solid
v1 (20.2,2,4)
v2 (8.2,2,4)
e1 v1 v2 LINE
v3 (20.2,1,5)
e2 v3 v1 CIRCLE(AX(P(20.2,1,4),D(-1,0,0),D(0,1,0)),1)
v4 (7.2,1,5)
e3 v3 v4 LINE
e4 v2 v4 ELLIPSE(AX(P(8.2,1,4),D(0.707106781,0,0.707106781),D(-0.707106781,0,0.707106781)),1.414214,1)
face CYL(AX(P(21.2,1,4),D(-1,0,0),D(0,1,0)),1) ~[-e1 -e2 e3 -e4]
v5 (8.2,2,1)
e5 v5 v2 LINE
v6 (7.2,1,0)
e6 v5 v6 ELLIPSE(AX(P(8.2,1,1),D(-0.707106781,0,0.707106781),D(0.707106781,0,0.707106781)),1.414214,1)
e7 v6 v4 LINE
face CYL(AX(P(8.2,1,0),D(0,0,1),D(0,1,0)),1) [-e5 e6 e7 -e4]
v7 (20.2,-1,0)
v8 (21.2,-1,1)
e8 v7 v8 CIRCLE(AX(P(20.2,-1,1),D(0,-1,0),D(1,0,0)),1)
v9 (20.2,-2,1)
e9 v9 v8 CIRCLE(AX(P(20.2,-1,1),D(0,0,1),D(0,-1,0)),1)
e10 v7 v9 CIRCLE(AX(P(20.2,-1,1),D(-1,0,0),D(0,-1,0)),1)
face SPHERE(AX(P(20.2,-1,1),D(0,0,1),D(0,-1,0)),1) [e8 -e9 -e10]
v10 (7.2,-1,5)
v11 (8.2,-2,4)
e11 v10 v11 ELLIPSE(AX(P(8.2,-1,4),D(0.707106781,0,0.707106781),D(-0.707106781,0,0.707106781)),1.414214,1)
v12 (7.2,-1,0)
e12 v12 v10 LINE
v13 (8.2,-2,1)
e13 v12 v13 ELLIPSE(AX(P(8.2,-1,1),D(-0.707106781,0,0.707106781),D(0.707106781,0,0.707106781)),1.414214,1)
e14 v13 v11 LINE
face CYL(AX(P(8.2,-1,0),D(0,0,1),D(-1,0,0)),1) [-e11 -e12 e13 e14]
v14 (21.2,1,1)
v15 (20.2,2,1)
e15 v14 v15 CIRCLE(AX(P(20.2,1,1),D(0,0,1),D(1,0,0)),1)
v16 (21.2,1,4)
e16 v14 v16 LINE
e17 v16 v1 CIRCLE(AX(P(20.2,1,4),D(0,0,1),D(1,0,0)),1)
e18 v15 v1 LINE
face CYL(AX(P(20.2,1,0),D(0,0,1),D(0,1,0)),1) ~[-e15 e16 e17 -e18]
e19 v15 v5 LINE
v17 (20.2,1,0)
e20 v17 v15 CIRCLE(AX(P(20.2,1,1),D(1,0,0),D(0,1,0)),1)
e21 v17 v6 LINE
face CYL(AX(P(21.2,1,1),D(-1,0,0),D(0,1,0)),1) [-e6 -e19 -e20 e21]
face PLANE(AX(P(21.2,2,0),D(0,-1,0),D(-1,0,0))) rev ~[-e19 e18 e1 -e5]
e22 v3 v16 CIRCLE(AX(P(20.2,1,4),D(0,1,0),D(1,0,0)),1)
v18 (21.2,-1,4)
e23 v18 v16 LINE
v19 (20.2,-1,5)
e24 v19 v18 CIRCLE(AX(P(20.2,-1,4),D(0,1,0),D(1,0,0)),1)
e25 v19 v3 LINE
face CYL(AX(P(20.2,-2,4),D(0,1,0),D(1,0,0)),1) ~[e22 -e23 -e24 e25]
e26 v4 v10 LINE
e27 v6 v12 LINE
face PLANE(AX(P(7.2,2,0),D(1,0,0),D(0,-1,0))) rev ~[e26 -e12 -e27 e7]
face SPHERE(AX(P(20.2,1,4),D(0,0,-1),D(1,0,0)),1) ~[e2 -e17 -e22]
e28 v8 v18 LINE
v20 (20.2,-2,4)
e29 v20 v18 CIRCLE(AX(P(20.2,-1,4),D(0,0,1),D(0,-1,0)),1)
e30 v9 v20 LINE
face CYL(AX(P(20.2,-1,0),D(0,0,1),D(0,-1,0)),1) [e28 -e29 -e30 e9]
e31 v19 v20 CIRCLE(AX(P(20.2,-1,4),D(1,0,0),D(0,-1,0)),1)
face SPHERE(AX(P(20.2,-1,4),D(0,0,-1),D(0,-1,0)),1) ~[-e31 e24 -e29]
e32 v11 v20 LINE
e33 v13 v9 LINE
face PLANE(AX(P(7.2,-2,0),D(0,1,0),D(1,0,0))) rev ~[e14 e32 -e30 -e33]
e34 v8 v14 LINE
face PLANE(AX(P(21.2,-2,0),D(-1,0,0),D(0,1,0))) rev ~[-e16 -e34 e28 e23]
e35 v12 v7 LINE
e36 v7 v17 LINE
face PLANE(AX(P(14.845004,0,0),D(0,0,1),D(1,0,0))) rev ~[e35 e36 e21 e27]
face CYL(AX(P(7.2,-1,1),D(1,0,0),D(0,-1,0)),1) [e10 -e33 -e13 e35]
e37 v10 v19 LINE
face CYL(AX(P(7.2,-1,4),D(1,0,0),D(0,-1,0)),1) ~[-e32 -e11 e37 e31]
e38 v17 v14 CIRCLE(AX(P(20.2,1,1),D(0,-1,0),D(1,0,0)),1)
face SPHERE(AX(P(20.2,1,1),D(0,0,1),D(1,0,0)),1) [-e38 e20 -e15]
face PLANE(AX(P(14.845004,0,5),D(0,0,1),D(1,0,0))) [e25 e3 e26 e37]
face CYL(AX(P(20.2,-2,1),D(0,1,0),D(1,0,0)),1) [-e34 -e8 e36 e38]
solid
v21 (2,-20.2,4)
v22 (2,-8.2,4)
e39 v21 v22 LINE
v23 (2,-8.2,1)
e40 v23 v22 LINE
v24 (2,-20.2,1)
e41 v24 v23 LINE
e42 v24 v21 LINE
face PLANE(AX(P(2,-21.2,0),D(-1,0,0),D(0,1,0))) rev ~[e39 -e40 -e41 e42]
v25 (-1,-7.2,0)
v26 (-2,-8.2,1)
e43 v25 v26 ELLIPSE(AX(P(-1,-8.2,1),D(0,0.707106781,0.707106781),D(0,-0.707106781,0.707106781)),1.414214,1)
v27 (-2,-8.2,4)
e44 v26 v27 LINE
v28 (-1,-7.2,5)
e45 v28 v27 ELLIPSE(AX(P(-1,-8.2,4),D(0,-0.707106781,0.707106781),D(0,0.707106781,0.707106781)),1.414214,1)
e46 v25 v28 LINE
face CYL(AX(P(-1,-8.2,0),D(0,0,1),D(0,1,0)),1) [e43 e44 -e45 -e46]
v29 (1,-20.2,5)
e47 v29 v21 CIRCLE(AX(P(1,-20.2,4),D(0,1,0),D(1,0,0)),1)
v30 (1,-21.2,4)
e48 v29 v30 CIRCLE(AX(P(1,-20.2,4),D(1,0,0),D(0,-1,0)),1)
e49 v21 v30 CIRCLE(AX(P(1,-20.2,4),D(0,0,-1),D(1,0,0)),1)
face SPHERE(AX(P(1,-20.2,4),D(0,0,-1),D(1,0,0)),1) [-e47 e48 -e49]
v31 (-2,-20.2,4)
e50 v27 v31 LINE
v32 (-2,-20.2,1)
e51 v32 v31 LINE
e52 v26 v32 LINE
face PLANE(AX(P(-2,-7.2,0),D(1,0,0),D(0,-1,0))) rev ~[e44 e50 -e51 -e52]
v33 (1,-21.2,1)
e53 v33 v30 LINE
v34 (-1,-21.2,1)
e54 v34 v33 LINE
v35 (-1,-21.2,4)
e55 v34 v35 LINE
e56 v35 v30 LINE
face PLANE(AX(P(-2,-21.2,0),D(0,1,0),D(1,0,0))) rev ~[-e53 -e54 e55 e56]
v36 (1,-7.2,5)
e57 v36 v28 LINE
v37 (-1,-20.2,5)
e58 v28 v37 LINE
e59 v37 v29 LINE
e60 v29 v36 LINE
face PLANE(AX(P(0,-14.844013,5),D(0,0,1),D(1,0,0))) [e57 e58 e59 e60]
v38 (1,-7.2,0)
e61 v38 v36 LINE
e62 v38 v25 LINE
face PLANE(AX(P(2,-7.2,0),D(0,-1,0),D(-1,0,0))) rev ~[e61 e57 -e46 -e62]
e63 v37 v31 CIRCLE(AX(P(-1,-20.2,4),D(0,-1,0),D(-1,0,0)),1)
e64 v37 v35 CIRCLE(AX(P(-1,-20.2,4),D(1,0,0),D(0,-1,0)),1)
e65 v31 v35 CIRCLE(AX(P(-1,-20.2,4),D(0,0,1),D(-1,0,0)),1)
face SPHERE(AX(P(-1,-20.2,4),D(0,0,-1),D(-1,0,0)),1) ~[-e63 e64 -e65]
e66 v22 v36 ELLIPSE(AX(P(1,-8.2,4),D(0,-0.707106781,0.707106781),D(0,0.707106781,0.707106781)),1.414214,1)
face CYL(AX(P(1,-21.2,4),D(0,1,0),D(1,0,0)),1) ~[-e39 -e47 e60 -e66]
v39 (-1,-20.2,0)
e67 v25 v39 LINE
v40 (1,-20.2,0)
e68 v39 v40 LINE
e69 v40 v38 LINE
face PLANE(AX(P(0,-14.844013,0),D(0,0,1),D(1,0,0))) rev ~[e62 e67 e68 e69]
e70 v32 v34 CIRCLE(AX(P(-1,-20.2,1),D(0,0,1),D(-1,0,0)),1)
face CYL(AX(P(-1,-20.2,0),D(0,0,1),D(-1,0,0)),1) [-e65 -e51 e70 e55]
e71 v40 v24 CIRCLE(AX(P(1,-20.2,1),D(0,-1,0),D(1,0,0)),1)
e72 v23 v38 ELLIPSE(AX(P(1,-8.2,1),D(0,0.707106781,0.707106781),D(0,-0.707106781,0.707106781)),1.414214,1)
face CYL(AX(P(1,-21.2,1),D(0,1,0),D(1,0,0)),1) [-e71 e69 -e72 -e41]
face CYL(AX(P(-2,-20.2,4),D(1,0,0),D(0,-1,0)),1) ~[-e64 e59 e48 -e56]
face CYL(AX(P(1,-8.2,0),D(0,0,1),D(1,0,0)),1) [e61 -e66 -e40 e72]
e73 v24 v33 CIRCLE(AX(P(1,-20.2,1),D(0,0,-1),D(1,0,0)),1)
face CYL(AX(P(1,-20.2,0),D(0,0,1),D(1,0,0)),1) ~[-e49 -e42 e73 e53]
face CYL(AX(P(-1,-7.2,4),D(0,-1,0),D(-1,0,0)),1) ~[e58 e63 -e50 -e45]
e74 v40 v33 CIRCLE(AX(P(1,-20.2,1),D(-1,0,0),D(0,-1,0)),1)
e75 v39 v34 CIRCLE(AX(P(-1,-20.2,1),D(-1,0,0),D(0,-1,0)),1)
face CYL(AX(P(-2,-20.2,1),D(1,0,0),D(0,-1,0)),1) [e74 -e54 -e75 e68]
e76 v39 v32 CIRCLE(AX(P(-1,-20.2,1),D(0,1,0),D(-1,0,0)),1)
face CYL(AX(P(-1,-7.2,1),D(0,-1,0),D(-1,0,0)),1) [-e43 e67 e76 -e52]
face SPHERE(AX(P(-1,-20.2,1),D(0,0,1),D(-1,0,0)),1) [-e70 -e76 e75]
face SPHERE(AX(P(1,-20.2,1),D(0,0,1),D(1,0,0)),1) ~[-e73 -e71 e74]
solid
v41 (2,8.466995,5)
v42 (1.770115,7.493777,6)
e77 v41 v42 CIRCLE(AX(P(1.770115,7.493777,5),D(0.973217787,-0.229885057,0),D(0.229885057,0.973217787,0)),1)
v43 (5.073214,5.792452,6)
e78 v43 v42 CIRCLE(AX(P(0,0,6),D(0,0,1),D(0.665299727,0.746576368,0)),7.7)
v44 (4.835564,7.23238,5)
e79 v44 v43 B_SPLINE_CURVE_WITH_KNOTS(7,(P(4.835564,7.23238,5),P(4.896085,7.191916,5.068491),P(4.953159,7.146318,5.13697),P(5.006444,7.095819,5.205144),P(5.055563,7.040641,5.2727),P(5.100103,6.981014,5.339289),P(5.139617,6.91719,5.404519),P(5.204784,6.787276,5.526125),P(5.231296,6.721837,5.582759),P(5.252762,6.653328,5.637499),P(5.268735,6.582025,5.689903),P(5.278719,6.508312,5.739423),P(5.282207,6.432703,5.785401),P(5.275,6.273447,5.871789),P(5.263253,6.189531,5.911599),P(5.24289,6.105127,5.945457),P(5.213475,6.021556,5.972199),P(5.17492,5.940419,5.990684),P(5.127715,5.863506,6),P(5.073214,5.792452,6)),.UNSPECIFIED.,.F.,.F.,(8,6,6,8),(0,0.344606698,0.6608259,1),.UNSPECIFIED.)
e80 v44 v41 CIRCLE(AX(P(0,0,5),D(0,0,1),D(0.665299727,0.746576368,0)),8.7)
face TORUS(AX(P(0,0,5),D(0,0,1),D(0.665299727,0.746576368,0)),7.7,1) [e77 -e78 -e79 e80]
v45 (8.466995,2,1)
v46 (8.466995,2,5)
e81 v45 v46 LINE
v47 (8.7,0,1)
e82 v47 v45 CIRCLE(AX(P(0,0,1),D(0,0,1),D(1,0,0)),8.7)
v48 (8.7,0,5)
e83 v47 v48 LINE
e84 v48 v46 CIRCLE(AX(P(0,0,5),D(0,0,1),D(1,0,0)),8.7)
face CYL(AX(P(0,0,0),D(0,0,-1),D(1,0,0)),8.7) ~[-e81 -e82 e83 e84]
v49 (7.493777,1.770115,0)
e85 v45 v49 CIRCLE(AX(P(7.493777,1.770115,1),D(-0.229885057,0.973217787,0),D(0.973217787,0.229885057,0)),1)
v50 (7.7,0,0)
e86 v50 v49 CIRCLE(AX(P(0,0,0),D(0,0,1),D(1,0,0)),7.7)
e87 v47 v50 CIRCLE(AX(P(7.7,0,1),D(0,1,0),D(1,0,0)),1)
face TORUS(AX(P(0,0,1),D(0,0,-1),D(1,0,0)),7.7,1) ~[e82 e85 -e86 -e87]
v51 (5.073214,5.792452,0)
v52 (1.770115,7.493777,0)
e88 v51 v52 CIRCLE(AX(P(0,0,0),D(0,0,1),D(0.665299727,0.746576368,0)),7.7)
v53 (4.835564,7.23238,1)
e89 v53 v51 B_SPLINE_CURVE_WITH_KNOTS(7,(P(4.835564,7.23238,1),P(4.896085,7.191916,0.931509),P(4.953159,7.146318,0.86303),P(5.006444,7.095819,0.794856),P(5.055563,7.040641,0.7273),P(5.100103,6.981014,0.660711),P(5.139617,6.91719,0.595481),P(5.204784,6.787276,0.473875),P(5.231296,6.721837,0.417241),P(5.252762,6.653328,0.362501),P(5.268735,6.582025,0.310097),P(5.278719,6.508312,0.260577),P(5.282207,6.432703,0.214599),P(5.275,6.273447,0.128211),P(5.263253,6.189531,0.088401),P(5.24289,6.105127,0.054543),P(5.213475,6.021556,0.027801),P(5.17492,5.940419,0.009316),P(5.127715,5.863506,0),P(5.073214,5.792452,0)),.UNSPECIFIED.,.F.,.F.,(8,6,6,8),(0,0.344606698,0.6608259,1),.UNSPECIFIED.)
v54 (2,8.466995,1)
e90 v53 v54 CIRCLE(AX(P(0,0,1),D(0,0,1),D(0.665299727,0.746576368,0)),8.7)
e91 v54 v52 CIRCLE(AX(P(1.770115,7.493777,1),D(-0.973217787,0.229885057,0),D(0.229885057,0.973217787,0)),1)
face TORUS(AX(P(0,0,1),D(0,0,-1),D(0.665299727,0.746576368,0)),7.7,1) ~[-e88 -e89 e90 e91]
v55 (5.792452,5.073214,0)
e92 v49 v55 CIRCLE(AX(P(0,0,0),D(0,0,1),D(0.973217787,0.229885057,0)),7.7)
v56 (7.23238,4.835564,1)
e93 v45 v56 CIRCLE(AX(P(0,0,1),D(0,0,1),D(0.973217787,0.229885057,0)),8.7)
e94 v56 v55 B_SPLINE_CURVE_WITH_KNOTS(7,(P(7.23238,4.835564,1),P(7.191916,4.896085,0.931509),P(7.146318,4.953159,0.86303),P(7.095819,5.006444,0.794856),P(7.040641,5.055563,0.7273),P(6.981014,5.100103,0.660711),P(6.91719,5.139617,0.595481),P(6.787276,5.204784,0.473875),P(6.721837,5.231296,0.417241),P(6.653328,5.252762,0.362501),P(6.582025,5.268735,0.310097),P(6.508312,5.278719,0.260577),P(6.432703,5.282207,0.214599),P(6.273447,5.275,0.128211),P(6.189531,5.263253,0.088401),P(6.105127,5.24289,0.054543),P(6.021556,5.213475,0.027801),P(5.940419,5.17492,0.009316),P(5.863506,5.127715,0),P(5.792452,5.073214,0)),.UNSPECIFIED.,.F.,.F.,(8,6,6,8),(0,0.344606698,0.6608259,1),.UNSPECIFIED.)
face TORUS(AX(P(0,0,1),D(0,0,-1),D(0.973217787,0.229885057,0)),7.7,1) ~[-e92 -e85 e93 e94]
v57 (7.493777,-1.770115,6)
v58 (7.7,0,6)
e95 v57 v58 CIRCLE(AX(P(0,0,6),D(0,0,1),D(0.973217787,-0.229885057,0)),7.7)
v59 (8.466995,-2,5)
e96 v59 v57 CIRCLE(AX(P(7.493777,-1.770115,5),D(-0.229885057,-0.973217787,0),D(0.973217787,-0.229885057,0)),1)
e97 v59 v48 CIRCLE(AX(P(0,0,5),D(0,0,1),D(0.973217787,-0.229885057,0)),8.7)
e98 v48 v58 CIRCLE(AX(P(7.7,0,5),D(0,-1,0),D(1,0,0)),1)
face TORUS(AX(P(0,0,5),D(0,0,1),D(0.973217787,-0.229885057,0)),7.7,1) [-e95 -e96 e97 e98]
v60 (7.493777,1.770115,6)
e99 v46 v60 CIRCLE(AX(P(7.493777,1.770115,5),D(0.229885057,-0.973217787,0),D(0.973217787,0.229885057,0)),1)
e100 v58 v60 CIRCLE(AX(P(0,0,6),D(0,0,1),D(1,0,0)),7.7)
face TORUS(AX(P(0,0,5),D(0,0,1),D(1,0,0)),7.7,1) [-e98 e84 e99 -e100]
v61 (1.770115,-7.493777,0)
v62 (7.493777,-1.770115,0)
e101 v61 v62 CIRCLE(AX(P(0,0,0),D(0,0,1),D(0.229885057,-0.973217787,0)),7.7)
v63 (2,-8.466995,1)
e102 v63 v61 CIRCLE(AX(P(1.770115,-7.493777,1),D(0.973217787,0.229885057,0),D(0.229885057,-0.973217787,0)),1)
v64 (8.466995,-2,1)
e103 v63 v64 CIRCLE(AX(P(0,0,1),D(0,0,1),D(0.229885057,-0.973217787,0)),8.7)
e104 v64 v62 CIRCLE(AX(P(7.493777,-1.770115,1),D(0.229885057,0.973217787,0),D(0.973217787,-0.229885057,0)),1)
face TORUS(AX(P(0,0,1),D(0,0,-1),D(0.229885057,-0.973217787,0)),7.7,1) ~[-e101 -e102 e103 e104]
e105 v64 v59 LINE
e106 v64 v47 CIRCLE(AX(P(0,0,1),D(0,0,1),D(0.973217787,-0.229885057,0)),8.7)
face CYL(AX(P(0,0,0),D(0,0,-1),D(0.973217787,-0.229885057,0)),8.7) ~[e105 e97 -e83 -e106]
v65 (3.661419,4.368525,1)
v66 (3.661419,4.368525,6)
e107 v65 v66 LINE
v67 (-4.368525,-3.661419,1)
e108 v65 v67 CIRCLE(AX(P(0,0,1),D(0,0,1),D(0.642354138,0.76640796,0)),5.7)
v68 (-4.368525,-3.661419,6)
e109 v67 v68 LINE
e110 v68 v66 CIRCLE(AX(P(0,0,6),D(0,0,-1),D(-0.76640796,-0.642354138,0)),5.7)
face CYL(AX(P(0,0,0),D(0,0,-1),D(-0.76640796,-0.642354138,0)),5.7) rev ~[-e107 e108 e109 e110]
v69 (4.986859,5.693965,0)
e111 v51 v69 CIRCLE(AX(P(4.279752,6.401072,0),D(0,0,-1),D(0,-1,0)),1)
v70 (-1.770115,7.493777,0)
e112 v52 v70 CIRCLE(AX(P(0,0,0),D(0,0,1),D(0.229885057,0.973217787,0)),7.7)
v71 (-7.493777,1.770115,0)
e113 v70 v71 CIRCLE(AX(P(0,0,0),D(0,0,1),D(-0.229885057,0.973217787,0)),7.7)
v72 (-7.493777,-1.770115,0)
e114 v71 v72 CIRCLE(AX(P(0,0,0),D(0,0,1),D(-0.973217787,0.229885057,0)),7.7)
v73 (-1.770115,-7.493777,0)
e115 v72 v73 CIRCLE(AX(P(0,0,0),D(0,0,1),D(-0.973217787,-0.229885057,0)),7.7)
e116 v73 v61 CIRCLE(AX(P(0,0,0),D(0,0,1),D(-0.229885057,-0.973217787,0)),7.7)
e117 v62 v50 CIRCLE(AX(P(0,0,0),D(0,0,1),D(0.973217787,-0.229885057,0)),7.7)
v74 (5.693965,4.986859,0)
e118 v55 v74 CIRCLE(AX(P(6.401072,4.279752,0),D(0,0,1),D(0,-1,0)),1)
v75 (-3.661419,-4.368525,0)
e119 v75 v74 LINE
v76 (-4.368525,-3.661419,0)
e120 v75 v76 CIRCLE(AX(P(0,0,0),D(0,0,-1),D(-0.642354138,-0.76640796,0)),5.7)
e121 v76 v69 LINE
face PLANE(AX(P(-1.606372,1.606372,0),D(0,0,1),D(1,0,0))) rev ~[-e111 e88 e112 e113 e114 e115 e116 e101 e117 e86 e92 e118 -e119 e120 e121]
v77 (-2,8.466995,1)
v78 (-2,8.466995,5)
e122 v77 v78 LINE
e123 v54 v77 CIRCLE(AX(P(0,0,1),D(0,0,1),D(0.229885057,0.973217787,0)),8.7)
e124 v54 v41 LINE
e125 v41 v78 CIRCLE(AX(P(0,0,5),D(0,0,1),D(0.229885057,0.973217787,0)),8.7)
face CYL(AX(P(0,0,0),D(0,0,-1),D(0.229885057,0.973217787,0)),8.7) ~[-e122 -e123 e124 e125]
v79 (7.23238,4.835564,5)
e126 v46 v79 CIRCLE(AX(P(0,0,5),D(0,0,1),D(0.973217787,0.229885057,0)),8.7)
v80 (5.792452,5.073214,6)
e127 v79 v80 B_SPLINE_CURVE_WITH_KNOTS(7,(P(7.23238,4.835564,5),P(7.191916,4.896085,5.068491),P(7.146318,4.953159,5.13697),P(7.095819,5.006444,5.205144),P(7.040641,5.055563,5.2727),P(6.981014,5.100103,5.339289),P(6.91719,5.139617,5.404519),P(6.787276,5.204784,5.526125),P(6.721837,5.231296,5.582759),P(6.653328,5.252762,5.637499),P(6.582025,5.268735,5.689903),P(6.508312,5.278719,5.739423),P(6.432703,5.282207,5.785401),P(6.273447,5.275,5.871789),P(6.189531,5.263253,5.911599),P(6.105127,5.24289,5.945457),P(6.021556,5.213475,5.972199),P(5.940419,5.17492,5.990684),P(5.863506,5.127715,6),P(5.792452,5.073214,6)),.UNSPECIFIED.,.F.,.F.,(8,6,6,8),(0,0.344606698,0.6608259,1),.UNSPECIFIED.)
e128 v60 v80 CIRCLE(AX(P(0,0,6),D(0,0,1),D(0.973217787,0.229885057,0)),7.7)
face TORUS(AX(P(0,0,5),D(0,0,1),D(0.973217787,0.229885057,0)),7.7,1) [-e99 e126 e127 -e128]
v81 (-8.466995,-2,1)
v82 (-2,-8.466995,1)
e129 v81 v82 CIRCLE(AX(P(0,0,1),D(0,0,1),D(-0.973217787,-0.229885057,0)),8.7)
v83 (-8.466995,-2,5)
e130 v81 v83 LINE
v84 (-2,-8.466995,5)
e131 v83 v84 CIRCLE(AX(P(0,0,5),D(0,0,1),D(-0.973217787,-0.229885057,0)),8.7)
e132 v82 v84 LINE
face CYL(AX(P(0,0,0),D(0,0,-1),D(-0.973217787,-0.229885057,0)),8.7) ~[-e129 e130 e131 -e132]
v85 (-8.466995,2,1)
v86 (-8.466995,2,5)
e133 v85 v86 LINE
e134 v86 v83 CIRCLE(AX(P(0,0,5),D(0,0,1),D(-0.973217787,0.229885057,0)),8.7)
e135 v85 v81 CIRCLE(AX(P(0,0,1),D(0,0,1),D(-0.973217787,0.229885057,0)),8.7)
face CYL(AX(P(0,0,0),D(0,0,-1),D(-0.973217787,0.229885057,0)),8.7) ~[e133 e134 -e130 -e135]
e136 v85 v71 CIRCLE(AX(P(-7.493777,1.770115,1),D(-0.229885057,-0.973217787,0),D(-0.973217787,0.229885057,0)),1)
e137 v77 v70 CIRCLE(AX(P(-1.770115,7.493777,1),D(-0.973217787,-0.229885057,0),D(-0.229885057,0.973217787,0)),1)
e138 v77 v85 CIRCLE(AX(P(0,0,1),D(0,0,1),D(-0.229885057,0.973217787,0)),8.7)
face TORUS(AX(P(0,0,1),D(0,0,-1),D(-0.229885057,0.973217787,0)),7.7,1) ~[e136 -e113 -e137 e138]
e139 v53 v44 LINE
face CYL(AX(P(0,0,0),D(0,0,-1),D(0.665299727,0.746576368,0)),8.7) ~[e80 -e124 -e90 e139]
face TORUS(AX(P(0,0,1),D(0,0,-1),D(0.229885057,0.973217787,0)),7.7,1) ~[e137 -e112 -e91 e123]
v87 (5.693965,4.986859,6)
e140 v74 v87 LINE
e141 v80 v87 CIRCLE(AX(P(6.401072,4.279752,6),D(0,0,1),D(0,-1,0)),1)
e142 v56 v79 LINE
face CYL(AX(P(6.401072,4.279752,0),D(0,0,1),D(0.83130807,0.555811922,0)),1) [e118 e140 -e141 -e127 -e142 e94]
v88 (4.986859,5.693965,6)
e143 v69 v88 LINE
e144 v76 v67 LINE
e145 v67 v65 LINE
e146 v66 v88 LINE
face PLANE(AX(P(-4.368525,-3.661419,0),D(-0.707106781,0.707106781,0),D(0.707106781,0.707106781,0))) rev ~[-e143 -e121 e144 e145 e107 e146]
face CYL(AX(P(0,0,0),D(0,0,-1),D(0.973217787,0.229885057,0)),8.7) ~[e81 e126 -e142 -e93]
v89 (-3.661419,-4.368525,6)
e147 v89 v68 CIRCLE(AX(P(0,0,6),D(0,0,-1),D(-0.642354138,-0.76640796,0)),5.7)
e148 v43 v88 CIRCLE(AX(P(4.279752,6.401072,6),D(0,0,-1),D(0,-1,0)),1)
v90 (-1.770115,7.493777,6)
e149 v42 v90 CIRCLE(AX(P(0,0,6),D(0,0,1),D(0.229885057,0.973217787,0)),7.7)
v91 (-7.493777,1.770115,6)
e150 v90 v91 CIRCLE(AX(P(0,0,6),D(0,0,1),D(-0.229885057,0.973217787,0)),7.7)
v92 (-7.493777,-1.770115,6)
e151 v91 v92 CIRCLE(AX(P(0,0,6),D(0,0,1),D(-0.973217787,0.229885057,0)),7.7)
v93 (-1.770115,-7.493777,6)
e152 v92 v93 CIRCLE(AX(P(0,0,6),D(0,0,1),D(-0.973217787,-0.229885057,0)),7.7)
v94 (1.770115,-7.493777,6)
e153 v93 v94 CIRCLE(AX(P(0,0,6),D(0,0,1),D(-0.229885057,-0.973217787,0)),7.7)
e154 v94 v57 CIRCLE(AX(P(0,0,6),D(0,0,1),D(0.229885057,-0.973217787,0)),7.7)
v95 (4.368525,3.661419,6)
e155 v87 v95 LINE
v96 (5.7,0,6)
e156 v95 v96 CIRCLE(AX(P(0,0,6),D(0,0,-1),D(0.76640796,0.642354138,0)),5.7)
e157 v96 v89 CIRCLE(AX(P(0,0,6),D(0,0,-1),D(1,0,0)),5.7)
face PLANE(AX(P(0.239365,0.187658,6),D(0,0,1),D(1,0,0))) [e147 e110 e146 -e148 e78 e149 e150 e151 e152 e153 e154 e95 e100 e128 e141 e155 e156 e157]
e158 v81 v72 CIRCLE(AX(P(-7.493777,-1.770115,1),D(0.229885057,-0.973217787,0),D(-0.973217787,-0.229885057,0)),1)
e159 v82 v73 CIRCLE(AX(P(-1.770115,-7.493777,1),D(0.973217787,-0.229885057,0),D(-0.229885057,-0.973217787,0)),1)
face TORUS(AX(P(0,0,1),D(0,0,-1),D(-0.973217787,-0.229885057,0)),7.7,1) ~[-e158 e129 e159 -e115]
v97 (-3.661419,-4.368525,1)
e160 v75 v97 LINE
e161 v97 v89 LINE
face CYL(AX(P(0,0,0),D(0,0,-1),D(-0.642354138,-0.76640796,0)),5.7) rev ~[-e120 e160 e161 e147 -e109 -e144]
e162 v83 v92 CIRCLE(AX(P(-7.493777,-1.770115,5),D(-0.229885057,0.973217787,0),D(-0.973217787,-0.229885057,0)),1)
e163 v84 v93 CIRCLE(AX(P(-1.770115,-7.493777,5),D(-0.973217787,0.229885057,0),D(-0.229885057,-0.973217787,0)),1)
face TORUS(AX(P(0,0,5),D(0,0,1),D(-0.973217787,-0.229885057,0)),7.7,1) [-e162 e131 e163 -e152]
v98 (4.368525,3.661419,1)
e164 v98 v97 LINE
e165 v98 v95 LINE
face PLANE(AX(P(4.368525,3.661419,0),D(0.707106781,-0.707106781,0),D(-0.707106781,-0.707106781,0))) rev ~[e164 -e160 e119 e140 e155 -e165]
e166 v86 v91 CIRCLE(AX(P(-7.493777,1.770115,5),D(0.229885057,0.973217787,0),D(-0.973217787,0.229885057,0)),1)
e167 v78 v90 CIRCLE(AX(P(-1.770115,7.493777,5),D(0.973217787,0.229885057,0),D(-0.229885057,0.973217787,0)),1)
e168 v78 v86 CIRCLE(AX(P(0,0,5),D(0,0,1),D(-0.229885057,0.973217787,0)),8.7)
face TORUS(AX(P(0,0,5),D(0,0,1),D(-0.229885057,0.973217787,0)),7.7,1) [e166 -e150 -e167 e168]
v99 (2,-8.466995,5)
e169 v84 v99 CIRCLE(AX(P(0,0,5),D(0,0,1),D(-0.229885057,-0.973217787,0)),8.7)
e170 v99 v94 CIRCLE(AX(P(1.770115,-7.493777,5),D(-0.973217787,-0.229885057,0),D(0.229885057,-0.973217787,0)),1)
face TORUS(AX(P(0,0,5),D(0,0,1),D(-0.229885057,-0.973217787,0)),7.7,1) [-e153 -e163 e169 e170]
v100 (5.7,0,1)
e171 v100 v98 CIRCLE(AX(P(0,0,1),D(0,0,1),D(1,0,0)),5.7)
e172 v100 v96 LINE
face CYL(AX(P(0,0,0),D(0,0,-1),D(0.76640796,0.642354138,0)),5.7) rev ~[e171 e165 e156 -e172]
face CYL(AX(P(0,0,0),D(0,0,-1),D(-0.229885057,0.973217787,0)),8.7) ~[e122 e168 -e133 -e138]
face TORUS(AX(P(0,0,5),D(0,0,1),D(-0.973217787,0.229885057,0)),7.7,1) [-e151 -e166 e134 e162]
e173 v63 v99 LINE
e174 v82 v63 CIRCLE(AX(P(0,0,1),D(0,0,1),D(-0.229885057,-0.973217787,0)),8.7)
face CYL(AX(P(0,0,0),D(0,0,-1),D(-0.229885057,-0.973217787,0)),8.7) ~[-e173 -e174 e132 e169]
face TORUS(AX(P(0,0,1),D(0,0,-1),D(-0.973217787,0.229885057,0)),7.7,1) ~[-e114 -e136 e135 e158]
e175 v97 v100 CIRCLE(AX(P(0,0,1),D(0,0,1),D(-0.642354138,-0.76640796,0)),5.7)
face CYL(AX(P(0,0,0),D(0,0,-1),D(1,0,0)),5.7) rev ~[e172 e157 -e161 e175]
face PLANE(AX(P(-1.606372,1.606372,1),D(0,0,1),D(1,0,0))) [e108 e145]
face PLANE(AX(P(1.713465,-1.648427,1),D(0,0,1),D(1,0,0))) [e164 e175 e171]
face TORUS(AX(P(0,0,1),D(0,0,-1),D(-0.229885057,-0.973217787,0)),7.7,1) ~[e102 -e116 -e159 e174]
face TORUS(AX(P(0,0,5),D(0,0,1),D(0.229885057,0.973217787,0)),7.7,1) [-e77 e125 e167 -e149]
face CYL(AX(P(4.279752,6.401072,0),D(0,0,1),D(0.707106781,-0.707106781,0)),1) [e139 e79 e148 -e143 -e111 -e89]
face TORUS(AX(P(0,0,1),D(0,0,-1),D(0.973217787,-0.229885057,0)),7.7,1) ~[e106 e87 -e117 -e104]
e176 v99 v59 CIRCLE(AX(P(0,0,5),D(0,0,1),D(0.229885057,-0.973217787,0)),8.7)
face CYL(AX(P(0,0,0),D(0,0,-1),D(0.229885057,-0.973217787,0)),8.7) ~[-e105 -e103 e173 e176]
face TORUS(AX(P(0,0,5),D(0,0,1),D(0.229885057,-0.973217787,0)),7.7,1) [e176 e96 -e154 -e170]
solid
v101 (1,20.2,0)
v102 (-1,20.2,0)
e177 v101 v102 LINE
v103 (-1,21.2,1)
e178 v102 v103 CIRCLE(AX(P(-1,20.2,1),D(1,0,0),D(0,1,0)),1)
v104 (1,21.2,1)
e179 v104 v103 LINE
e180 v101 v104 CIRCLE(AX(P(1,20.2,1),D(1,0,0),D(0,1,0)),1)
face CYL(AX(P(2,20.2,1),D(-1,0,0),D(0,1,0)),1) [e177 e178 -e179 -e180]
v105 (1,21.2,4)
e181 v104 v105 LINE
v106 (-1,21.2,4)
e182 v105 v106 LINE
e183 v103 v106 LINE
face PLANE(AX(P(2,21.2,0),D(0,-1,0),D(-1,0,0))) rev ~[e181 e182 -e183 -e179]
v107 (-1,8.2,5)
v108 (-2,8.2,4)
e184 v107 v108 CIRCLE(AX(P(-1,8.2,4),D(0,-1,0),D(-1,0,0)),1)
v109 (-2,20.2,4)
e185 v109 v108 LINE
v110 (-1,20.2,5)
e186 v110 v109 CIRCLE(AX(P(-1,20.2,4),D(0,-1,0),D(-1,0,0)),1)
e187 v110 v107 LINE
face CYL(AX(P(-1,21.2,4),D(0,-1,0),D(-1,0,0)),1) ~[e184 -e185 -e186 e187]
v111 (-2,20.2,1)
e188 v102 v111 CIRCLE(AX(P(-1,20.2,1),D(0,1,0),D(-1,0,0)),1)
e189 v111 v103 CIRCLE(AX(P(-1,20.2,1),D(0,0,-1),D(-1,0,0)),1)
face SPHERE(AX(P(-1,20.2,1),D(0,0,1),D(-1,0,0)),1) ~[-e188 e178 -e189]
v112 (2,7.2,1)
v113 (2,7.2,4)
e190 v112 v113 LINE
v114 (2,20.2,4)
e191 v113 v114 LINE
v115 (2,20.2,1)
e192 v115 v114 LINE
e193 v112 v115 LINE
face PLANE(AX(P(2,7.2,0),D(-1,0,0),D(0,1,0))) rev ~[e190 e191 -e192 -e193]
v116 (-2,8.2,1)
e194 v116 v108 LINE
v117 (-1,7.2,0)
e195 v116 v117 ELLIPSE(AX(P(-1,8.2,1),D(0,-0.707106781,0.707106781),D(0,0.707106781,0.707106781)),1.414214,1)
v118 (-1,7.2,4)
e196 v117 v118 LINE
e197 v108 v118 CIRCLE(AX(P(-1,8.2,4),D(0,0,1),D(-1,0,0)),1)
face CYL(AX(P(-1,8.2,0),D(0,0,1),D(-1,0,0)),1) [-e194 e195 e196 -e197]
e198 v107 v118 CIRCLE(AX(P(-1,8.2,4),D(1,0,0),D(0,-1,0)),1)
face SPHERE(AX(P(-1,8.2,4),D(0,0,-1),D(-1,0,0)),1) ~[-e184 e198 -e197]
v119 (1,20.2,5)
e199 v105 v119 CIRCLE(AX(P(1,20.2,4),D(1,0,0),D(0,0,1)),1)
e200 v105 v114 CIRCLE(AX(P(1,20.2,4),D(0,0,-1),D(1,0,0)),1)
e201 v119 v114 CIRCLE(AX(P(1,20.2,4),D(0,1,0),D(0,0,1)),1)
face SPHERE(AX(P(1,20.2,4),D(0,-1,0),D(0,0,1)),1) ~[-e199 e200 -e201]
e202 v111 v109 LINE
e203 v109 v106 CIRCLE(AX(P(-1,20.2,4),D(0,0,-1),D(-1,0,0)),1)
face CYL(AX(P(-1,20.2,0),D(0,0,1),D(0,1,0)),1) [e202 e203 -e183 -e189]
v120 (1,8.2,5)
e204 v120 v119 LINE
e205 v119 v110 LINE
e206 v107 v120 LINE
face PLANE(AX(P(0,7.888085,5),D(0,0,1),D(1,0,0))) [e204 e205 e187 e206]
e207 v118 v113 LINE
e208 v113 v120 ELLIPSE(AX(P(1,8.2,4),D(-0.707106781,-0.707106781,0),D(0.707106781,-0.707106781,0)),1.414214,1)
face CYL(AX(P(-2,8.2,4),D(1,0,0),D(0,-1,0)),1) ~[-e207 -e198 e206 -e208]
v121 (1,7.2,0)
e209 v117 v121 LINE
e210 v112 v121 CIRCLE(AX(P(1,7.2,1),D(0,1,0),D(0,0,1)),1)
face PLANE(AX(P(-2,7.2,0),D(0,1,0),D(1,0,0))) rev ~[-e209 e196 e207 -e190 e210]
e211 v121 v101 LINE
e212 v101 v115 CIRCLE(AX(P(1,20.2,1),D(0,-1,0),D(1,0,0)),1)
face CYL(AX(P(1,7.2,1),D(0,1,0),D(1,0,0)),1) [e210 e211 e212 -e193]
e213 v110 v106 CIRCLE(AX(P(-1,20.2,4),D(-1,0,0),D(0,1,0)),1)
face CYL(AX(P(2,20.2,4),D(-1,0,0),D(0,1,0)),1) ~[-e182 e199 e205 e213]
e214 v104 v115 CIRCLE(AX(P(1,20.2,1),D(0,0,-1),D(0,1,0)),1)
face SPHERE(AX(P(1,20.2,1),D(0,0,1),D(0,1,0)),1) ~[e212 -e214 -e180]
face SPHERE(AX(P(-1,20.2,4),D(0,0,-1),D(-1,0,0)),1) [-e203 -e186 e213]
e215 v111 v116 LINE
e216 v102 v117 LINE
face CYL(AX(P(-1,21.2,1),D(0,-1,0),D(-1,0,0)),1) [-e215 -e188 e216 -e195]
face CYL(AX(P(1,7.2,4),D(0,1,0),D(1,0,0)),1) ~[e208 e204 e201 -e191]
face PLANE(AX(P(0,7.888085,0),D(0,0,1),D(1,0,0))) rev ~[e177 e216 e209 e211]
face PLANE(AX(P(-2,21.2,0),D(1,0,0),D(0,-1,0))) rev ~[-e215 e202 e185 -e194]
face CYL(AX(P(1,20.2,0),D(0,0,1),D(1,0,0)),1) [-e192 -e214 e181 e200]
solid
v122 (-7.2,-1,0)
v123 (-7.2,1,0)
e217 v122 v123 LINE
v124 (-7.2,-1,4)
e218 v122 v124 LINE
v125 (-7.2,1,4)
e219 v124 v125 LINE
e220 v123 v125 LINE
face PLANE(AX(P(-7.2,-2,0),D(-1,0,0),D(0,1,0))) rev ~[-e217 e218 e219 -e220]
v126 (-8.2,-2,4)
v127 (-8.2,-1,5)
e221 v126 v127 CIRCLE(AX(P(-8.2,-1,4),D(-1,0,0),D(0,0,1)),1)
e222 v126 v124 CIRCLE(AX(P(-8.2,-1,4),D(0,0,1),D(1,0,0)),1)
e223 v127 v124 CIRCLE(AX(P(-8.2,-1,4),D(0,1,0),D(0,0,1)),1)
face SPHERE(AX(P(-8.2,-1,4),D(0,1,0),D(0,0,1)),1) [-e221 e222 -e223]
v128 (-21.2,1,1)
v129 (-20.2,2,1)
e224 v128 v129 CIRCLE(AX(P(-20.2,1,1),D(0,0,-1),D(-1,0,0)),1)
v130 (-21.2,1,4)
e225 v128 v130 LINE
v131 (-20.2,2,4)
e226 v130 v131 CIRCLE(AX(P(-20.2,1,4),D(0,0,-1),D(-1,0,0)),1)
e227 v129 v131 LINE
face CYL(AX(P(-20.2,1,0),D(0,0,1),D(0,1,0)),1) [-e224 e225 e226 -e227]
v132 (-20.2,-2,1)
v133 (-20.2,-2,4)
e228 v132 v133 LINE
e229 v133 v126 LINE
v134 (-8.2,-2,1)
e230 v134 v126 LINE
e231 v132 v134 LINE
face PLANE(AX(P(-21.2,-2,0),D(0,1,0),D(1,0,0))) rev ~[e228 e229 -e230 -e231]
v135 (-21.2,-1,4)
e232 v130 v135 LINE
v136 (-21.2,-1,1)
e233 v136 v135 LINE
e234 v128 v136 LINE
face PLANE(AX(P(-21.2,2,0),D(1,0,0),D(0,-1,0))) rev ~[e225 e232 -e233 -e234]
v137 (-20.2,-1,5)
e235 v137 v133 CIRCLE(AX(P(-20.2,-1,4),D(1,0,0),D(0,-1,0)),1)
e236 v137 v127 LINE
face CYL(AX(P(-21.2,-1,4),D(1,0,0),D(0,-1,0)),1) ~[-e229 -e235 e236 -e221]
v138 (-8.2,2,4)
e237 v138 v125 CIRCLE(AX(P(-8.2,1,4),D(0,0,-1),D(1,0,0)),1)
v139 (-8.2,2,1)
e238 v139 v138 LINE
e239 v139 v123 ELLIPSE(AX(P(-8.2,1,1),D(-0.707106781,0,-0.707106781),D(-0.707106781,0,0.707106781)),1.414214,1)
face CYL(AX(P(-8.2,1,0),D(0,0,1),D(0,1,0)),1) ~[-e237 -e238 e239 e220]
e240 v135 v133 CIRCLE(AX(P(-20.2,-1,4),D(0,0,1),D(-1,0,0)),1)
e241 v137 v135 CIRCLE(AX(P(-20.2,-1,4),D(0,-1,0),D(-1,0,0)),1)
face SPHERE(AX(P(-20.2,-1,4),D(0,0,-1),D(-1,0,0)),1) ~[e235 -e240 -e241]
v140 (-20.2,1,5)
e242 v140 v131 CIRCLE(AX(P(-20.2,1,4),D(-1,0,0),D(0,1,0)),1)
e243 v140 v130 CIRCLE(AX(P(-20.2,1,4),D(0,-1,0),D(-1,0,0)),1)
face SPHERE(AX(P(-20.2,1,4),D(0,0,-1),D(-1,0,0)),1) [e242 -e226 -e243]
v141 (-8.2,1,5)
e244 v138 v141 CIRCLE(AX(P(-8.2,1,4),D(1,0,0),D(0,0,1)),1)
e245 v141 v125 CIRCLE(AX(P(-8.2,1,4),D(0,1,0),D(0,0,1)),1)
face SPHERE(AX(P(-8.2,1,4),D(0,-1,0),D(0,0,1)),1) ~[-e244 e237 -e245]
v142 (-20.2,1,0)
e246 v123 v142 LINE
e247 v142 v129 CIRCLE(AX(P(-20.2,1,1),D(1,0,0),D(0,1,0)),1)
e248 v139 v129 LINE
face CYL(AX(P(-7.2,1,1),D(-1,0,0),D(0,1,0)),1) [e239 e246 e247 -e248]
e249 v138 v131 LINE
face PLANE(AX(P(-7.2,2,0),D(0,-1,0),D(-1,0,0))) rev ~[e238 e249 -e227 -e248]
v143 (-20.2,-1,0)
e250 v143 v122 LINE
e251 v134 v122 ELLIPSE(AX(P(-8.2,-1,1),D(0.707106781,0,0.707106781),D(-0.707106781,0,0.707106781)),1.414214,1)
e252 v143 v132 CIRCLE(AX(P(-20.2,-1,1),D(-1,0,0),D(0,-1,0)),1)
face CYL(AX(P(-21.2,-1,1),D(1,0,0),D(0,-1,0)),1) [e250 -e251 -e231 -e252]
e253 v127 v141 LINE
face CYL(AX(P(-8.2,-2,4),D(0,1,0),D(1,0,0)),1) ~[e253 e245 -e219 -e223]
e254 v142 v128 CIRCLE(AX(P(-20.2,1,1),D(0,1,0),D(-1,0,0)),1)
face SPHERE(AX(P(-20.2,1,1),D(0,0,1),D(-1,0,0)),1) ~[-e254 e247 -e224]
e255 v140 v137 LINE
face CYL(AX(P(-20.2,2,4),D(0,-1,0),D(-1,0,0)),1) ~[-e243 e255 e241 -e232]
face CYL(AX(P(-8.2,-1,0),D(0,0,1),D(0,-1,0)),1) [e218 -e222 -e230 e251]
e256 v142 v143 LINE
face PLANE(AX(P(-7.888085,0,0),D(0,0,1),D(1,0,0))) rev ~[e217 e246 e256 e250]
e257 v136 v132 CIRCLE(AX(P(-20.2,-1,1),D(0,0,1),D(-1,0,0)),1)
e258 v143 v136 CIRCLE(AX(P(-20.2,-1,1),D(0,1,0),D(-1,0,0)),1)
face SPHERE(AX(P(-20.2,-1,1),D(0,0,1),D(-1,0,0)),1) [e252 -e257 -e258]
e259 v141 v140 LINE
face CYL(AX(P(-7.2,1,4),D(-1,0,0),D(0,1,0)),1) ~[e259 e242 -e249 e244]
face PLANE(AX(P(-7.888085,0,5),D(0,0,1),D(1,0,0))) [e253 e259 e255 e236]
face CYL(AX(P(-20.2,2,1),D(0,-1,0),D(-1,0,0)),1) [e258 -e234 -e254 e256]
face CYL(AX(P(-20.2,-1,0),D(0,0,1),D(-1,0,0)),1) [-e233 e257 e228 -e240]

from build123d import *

# Parameters (mm, degrees)
F1_DEPTH = 5
F2_DEPTH = 6
F3_DEPTH = 6
F4_R     = 1
F4_2_R   = 1
F4_3_R   = 1
F4_4_R   = 1
F4_5_R   = 1
F5_DEPTH = 1


with BuildPart() as f1:
    # F0 (on Top) → F1 (new body)
    with BuildSketch(Plane.XY):
        with BuildLine():
            Line((-7.2, 2), (-8.4669947443, 2))
            ThreePointArc((-8.4669947443, 2), (-8.7, 0), (-8.4669947443, -2))
            Line((-8.4669947443, -2), (-7.2, -2))
            Line((-7.2, -2), (-7.2, 2))
        make_face()
        with BuildLine():
            ThreePointArc((-8.4669947443, -2), (-8.7, 0), (-8.4669947443, 2))
            Line((-8.4669947443, 2), (-21.2, 2))
            Line((-21.2, 2), (-21.2, -2))
            Line((-21.2, -2), (-8.4669947443, -2))
        make_face()
    extrude(amount=F1_DEPTH)

    # F0 (on Top) → F3 (cut, through all)
    with BuildSketch(Plane.XY):
        with BuildLine():
            Line((13.7885822331, 14.4956890143), (5.7881076225, 6.4952144037))
            ThreePointArc((5.7881076225, 6.4952144037), (6.1518289963, 6.1518289963), (6.4952144037, 5.7881076225))
            Line((6.4952144037, 5.7881076225), (14.4956890143, 13.7885822331))
            Line((14.4956890143, 13.7885822331), (13.7885822331, 14.4956890143))
        make_face()
        with BuildLine():
            Line((5.7881076225, 6.4952144037), (3.6614185894, 4.3685253706))
            ThreePointArc((3.6614185894, 4.3685253706), (4.0305086528, 4.0305086528), (4.3685253706, 3.6614185894))
            Line((4.3685253706, 3.6614185894), (6.4952144037, 5.7881076225))
            ThreePointArc((6.4952144037, 5.7881076225), (6.1518289963, 6.1518289963), (5.7881076225, 6.4952144037))
        make_face()
        with BuildLine():
            ThreePointArc((4.3685253706, 3.6614185894), (4.0305086528, 4.0305086528), (3.6614185894, 4.3685253706))
            Line((3.6614185894, 4.3685253706), (-0.3535533906, 0.3535533906))
            Line((-0.3535533906, 0.3535533906), (0.3535533906, -0.3535533906))
            Line((0.3535533906, -0.3535533906), (4.3685253706, 3.6614185894))
        make_face()
        with BuildLine():
            Line((-0.3535533906, 0.3535533906), (-4.3685253706, -3.6614185894))
            ThreePointArc((-4.3685253706, -3.6614185894), (-4.0305086528, -4.0305086528), (-3.6614185894, -4.3685253706))
            Line((-3.6614185894, -4.3685253706), (0.3535533906, -0.3535533906))
            Line((0.3535533906, -0.3535533906), (-0.3535533906, 0.3535533906))
        make_face()
    extrude(amount=F3_DEPTH, mode=Mode.SUBTRACT)

    # F4#4
    f4_4_edges = [f1.edges().sort_by_distance(p)[0] for p in [
        (-21.2, 2, 2.5),
        (-21.2, -2, 2.5),
        (-21.2, 0, 0),
        (-21.2, 0, 5),
        (-7.2, 0, 5),
        (-14.2, 2, 5),
        (-14.2, -2, 5),
        (-7.2, -2, 2.5),
        (-14.2, -2, 0),
        (-7.2, 2, 2.5),
        (-14.2, 2, 0),
    ]]
    fillet(f4_4_edges, radius=F4_4_R)


with BuildPart() as f1b:
    # F0 (on Top) → F1, piece 2 (new body)
    with BuildSketch(Plane.XY):
        with BuildLine():
            Line((2, 7.2), (2, 8.4669947443))
            ThreePointArc((2, 8.4669947443), (0, 8.7), (-2, 8.4669947443))
            Line((-2, 8.4669947443), (-2, 7.2))
            Line((-2, 7.2), (2, 7.2))
        make_face()
        with BuildLine():
            ThreePointArc((-2, 8.4669947443), (0, 8.7), (2, 8.4669947443))
            Line((2, 8.4669947443), (2, 21.2))
            Line((2, 21.2), (-2, 21.2))
            Line((-2, 21.2), (-2, 8.4669947443))
        make_face()
    extrude(amount=F1_DEPTH)

    # F4#3
    f4_3_edges = [f1b.edges().sort_by_distance(p)[0] for p in [
        (-2, 21.2, 2.5),
        (-2, 7.2, 2.5),
        (-2, 14.2, 0),
        (-2, 14.2, 5),
        (0, 7.2, 5),
        (2, 14.2, 5),
        (0, 21.2, 5),
        (2, 21.2, 2.5),
        (0, 21.2, 0),
        (2, 14.2, 0),
    ]]
    fillet(f4_3_edges, radius=F4_3_R)


with BuildPart() as f1c:
    # F0 (on Top) → F1, piece 3 (new body)
    with BuildSketch(Plane.XY):
        with BuildLine():
            Line((2, -21.2), (2, -8.4669947443))
            ThreePointArc((2, -8.4669947443), (0, -8.7), (-2, -8.4669947443))
            Line((-2, -8.4669947443), (-2, -21.2))
            Line((-2, -21.2), (2, -21.2))
        make_face()
        with BuildLine():
            ThreePointArc((-2, -8.4669947443), (0, -8.7), (2, -8.4669947443))
            Line((2, -8.4669947443), (2, -7.2))
            Line((2, -7.2), (-2, -7.2))
            Line((-2, -7.2), (-2, -8.4669947443))
        make_face()
    extrude(amount=F1_DEPTH)

    # F4#2
    f4_2_edges = [f1c.edges().sort_by_distance(p)[0] for p in [
        (2, -21.2, 2.5),
        (2, -7.2, 2.5),
        (2, -14.2, 0),
        (2, -14.2, 5),
        (-2, -7.2, 2.5),
        (-2, -21.2, 2.5),
        (-2, -14.2, 0),
        (-2, -14.2, 5),
        (0, -21.2, 0),
        (0, -21.2, 5),
    ]]
    fillet(f4_2_edges, radius=F4_2_R)


with BuildPart() as f1d:
    # F0 (on Top) → F1, piece 4 (new body)
    with BuildSketch(Plane.XY):
        with BuildLine():
            Line((21.2, 2), (8.4669947443, 2))
            ThreePointArc((8.4669947443, 2), (8.6415523569, 1.0067635583), (8.7, 0))
            ThreePointArc((8.7, 0), (8.6415523569, -1.0067635583), (8.4669947443, -2))
            Line((8.4669947443, -2), (21.2, -2))
            Line((21.2, -2), (21.2, 2))
        make_face()
        with BuildLine():
            ThreePointArc((8.7, 0), (8.6415523569, 1.0067635583), (8.4669947443, 2))
            Line((8.4669947443, 2), (7.2, 2))
            Line((7.2, 2), (7.2, -2))
            Line((7.2, -2), (8.4669947443, -2))
            ThreePointArc((8.4669947443, -2), (8.6415523569, -1.0067635583), (8.7, 0))
        make_face()
    extrude(amount=F1_DEPTH)

    # F4#5
    f4_5_edges = [f1d.edges().sort_by_distance(p)[0] for p in [
        (7.2, -2, 2.5),
        (21.2, -2, 2.5),
        (14.2, -2, 0),
        (14.2, -2, 5),
        (21.2, 2, 2.5),
        (21.2, 0, 0),
        (21.2, 0, 5),
        (7.2, 2, 2.5),
        (14.2, 2, 0),
        (14.2, 2, 5),
    ]]
    fillet(f4_5_edges, radius=F4_5_R)


with BuildPart() as f2:
    # F0 (on Top) → F2 (new body)
    with BuildSketch(Plane.XY):
        with BuildLine():
            ThreePointArc((-3.6614185894, -4.3685253706), (-4.0305086528, -4.0305086528), (-4.3685253706, -3.6614185894))
            ThreePointArc((-4.3685253706, -3.6614185894), (-4.0305086528, 4.0305086528), (3.6614185894, 4.3685253706))
            Line((3.6614185894, 4.3685253706), (5.7881076225, 6.4952144037))
            ThreePointArc((5.7881076225, 6.4952144037), (4.0169185345, 7.7171474968), (2, 8.4669947443))
            Line((2, 8.4669947443), (2, 7.2))
            Line((2, 7.2), (-2, 7.2))
            Line((-2, 7.2), (-2, 8.4669947443))
            ThreePointArc((-2, 8.4669947443), (-6.1518289963, 6.1518289963), (-8.4669947443, 2))
            Line((-8.4669947443, 2), (-7.2, 2))
            Line((-7.2, 2), (-7.2, -2))
            Line((-7.2, -2), (-8.4669947443, -2))
            ThreePointArc((-8.4669947443, -2), (-6.1518289963, -6.1518289963), (-2, -8.4669947443))
            Line((-2, -8.4669947443), (-2, -7.2))
            Line((-2, -7.2), (2, -7.2))
            Line((2, -7.2), (2, -8.4669947443))
            ThreePointArc((2, -8.4669947443), (6.1518289963, -6.1518289963), (8.4669947443, -2))
            Line((8.4669947443, -2), (7.2, -2))
            Line((7.2, -2), (7.2, 2))
            Line((7.2, 2), (8.4669947443, 2))
            ThreePointArc((8.4669947443, 2), (7.7171474968, 4.0169185345), (6.4952144037, 5.7881076225))
            Line((6.4952144037, 5.7881076225), (4.3685253706, 3.6614185894))
            ThreePointArc((4.3685253706, 3.6614185894), (5.3567991661, 1.9479996648), (5.7, 0))
            ThreePointArc((5.7, 0), (2.4103852431, -5.1652727885), (-3.6614185894, -4.3685253706))
        make_face()
        with BuildLine():
            ThreePointArc((-2, -8.4669947443), (0, -8.7), (2, -8.4669947443))
            Line((2, -8.4669947443), (2, -7.2))
            Line((2, -7.2), (-2, -7.2))
            Line((-2, -7.2), (-2, -8.4669947443))
        make_face()
        with BuildLine():
            ThreePointArc((8.7, 0), (8.6415523569, 1.0067635583), (8.4669947443, 2))
            Line((8.4669947443, 2), (7.2, 2))
            Line((7.2, 2), (7.2, -2))
            Line((7.2, -2), (8.4669947443, -2))
            ThreePointArc((8.4669947443, -2), (8.6415523569, -1.0067635583), (8.7, 0))
        make_face()
        with BuildLine():
            Line((2, 7.2), (2, 8.4669947443))
            ThreePointArc((2, 8.4669947443), (0, 8.7), (-2, 8.4669947443))
            Line((-2, 8.4669947443), (-2, 7.2))
            Line((-2, 7.2), (2, 7.2))
        make_face()
        with BuildLine():
            Line((-7.2, 2), (-8.4669947443, 2))
            ThreePointArc((-8.4669947443, 2), (-8.7, 0), (-8.4669947443, -2))
            Line((-8.4669947443, -2), (-7.2, -2))
            Line((-7.2, -2), (-7.2, 2))
        make_face()
    extrude(amount=F2_DEPTH)

    # F4
    f4_edges = [f2.edges().sort_by_distance(p)[0] for p in [
        (5.788108, 6.495214, 3),
        (6.495214, 5.788108, 3),
        (-6.151829, -6.151829, 0),
        (-6.151829, -6.151829, 6),
    ]]
    fillet(f4_edges, radius=F4_R)

    # F0 (on Top) → F5 (join)
    with BuildSketch(Plane.XY):
        with BuildLine():
            ThreePointArc((3.6614185894, 4.3685253706), (-4.0305086528, 4.0305086528), (-4.3685253706, -3.6614185894))
            Line((-4.3685253706, -3.6614185894), (-0.3535533906, 0.3535533906))
            Line((-0.3535533906, 0.3535533906), (3.6614185894, 4.3685253706))
        make_face()
        with BuildLine():
            Line((0.3535533906, -0.3535533906), (-3.6614185894, -4.3685253706))
            ThreePointArc((-3.6614185894, -4.3685253706), (2.4103852431, -5.1652727885), (5.7, 0))
            ThreePointArc((5.7, 0), (5.3567991661, 1.9479996648), (4.3685253706, 3.6614185894))
            Line((4.3685253706, 3.6614185894), (0.3535533906, -0.3535533906))
        make_face()
    extrude(amount=F5_DEPTH)


solid = Compound([f1.part, f1b.part, f1c.part, f1d.part, f2.part])
